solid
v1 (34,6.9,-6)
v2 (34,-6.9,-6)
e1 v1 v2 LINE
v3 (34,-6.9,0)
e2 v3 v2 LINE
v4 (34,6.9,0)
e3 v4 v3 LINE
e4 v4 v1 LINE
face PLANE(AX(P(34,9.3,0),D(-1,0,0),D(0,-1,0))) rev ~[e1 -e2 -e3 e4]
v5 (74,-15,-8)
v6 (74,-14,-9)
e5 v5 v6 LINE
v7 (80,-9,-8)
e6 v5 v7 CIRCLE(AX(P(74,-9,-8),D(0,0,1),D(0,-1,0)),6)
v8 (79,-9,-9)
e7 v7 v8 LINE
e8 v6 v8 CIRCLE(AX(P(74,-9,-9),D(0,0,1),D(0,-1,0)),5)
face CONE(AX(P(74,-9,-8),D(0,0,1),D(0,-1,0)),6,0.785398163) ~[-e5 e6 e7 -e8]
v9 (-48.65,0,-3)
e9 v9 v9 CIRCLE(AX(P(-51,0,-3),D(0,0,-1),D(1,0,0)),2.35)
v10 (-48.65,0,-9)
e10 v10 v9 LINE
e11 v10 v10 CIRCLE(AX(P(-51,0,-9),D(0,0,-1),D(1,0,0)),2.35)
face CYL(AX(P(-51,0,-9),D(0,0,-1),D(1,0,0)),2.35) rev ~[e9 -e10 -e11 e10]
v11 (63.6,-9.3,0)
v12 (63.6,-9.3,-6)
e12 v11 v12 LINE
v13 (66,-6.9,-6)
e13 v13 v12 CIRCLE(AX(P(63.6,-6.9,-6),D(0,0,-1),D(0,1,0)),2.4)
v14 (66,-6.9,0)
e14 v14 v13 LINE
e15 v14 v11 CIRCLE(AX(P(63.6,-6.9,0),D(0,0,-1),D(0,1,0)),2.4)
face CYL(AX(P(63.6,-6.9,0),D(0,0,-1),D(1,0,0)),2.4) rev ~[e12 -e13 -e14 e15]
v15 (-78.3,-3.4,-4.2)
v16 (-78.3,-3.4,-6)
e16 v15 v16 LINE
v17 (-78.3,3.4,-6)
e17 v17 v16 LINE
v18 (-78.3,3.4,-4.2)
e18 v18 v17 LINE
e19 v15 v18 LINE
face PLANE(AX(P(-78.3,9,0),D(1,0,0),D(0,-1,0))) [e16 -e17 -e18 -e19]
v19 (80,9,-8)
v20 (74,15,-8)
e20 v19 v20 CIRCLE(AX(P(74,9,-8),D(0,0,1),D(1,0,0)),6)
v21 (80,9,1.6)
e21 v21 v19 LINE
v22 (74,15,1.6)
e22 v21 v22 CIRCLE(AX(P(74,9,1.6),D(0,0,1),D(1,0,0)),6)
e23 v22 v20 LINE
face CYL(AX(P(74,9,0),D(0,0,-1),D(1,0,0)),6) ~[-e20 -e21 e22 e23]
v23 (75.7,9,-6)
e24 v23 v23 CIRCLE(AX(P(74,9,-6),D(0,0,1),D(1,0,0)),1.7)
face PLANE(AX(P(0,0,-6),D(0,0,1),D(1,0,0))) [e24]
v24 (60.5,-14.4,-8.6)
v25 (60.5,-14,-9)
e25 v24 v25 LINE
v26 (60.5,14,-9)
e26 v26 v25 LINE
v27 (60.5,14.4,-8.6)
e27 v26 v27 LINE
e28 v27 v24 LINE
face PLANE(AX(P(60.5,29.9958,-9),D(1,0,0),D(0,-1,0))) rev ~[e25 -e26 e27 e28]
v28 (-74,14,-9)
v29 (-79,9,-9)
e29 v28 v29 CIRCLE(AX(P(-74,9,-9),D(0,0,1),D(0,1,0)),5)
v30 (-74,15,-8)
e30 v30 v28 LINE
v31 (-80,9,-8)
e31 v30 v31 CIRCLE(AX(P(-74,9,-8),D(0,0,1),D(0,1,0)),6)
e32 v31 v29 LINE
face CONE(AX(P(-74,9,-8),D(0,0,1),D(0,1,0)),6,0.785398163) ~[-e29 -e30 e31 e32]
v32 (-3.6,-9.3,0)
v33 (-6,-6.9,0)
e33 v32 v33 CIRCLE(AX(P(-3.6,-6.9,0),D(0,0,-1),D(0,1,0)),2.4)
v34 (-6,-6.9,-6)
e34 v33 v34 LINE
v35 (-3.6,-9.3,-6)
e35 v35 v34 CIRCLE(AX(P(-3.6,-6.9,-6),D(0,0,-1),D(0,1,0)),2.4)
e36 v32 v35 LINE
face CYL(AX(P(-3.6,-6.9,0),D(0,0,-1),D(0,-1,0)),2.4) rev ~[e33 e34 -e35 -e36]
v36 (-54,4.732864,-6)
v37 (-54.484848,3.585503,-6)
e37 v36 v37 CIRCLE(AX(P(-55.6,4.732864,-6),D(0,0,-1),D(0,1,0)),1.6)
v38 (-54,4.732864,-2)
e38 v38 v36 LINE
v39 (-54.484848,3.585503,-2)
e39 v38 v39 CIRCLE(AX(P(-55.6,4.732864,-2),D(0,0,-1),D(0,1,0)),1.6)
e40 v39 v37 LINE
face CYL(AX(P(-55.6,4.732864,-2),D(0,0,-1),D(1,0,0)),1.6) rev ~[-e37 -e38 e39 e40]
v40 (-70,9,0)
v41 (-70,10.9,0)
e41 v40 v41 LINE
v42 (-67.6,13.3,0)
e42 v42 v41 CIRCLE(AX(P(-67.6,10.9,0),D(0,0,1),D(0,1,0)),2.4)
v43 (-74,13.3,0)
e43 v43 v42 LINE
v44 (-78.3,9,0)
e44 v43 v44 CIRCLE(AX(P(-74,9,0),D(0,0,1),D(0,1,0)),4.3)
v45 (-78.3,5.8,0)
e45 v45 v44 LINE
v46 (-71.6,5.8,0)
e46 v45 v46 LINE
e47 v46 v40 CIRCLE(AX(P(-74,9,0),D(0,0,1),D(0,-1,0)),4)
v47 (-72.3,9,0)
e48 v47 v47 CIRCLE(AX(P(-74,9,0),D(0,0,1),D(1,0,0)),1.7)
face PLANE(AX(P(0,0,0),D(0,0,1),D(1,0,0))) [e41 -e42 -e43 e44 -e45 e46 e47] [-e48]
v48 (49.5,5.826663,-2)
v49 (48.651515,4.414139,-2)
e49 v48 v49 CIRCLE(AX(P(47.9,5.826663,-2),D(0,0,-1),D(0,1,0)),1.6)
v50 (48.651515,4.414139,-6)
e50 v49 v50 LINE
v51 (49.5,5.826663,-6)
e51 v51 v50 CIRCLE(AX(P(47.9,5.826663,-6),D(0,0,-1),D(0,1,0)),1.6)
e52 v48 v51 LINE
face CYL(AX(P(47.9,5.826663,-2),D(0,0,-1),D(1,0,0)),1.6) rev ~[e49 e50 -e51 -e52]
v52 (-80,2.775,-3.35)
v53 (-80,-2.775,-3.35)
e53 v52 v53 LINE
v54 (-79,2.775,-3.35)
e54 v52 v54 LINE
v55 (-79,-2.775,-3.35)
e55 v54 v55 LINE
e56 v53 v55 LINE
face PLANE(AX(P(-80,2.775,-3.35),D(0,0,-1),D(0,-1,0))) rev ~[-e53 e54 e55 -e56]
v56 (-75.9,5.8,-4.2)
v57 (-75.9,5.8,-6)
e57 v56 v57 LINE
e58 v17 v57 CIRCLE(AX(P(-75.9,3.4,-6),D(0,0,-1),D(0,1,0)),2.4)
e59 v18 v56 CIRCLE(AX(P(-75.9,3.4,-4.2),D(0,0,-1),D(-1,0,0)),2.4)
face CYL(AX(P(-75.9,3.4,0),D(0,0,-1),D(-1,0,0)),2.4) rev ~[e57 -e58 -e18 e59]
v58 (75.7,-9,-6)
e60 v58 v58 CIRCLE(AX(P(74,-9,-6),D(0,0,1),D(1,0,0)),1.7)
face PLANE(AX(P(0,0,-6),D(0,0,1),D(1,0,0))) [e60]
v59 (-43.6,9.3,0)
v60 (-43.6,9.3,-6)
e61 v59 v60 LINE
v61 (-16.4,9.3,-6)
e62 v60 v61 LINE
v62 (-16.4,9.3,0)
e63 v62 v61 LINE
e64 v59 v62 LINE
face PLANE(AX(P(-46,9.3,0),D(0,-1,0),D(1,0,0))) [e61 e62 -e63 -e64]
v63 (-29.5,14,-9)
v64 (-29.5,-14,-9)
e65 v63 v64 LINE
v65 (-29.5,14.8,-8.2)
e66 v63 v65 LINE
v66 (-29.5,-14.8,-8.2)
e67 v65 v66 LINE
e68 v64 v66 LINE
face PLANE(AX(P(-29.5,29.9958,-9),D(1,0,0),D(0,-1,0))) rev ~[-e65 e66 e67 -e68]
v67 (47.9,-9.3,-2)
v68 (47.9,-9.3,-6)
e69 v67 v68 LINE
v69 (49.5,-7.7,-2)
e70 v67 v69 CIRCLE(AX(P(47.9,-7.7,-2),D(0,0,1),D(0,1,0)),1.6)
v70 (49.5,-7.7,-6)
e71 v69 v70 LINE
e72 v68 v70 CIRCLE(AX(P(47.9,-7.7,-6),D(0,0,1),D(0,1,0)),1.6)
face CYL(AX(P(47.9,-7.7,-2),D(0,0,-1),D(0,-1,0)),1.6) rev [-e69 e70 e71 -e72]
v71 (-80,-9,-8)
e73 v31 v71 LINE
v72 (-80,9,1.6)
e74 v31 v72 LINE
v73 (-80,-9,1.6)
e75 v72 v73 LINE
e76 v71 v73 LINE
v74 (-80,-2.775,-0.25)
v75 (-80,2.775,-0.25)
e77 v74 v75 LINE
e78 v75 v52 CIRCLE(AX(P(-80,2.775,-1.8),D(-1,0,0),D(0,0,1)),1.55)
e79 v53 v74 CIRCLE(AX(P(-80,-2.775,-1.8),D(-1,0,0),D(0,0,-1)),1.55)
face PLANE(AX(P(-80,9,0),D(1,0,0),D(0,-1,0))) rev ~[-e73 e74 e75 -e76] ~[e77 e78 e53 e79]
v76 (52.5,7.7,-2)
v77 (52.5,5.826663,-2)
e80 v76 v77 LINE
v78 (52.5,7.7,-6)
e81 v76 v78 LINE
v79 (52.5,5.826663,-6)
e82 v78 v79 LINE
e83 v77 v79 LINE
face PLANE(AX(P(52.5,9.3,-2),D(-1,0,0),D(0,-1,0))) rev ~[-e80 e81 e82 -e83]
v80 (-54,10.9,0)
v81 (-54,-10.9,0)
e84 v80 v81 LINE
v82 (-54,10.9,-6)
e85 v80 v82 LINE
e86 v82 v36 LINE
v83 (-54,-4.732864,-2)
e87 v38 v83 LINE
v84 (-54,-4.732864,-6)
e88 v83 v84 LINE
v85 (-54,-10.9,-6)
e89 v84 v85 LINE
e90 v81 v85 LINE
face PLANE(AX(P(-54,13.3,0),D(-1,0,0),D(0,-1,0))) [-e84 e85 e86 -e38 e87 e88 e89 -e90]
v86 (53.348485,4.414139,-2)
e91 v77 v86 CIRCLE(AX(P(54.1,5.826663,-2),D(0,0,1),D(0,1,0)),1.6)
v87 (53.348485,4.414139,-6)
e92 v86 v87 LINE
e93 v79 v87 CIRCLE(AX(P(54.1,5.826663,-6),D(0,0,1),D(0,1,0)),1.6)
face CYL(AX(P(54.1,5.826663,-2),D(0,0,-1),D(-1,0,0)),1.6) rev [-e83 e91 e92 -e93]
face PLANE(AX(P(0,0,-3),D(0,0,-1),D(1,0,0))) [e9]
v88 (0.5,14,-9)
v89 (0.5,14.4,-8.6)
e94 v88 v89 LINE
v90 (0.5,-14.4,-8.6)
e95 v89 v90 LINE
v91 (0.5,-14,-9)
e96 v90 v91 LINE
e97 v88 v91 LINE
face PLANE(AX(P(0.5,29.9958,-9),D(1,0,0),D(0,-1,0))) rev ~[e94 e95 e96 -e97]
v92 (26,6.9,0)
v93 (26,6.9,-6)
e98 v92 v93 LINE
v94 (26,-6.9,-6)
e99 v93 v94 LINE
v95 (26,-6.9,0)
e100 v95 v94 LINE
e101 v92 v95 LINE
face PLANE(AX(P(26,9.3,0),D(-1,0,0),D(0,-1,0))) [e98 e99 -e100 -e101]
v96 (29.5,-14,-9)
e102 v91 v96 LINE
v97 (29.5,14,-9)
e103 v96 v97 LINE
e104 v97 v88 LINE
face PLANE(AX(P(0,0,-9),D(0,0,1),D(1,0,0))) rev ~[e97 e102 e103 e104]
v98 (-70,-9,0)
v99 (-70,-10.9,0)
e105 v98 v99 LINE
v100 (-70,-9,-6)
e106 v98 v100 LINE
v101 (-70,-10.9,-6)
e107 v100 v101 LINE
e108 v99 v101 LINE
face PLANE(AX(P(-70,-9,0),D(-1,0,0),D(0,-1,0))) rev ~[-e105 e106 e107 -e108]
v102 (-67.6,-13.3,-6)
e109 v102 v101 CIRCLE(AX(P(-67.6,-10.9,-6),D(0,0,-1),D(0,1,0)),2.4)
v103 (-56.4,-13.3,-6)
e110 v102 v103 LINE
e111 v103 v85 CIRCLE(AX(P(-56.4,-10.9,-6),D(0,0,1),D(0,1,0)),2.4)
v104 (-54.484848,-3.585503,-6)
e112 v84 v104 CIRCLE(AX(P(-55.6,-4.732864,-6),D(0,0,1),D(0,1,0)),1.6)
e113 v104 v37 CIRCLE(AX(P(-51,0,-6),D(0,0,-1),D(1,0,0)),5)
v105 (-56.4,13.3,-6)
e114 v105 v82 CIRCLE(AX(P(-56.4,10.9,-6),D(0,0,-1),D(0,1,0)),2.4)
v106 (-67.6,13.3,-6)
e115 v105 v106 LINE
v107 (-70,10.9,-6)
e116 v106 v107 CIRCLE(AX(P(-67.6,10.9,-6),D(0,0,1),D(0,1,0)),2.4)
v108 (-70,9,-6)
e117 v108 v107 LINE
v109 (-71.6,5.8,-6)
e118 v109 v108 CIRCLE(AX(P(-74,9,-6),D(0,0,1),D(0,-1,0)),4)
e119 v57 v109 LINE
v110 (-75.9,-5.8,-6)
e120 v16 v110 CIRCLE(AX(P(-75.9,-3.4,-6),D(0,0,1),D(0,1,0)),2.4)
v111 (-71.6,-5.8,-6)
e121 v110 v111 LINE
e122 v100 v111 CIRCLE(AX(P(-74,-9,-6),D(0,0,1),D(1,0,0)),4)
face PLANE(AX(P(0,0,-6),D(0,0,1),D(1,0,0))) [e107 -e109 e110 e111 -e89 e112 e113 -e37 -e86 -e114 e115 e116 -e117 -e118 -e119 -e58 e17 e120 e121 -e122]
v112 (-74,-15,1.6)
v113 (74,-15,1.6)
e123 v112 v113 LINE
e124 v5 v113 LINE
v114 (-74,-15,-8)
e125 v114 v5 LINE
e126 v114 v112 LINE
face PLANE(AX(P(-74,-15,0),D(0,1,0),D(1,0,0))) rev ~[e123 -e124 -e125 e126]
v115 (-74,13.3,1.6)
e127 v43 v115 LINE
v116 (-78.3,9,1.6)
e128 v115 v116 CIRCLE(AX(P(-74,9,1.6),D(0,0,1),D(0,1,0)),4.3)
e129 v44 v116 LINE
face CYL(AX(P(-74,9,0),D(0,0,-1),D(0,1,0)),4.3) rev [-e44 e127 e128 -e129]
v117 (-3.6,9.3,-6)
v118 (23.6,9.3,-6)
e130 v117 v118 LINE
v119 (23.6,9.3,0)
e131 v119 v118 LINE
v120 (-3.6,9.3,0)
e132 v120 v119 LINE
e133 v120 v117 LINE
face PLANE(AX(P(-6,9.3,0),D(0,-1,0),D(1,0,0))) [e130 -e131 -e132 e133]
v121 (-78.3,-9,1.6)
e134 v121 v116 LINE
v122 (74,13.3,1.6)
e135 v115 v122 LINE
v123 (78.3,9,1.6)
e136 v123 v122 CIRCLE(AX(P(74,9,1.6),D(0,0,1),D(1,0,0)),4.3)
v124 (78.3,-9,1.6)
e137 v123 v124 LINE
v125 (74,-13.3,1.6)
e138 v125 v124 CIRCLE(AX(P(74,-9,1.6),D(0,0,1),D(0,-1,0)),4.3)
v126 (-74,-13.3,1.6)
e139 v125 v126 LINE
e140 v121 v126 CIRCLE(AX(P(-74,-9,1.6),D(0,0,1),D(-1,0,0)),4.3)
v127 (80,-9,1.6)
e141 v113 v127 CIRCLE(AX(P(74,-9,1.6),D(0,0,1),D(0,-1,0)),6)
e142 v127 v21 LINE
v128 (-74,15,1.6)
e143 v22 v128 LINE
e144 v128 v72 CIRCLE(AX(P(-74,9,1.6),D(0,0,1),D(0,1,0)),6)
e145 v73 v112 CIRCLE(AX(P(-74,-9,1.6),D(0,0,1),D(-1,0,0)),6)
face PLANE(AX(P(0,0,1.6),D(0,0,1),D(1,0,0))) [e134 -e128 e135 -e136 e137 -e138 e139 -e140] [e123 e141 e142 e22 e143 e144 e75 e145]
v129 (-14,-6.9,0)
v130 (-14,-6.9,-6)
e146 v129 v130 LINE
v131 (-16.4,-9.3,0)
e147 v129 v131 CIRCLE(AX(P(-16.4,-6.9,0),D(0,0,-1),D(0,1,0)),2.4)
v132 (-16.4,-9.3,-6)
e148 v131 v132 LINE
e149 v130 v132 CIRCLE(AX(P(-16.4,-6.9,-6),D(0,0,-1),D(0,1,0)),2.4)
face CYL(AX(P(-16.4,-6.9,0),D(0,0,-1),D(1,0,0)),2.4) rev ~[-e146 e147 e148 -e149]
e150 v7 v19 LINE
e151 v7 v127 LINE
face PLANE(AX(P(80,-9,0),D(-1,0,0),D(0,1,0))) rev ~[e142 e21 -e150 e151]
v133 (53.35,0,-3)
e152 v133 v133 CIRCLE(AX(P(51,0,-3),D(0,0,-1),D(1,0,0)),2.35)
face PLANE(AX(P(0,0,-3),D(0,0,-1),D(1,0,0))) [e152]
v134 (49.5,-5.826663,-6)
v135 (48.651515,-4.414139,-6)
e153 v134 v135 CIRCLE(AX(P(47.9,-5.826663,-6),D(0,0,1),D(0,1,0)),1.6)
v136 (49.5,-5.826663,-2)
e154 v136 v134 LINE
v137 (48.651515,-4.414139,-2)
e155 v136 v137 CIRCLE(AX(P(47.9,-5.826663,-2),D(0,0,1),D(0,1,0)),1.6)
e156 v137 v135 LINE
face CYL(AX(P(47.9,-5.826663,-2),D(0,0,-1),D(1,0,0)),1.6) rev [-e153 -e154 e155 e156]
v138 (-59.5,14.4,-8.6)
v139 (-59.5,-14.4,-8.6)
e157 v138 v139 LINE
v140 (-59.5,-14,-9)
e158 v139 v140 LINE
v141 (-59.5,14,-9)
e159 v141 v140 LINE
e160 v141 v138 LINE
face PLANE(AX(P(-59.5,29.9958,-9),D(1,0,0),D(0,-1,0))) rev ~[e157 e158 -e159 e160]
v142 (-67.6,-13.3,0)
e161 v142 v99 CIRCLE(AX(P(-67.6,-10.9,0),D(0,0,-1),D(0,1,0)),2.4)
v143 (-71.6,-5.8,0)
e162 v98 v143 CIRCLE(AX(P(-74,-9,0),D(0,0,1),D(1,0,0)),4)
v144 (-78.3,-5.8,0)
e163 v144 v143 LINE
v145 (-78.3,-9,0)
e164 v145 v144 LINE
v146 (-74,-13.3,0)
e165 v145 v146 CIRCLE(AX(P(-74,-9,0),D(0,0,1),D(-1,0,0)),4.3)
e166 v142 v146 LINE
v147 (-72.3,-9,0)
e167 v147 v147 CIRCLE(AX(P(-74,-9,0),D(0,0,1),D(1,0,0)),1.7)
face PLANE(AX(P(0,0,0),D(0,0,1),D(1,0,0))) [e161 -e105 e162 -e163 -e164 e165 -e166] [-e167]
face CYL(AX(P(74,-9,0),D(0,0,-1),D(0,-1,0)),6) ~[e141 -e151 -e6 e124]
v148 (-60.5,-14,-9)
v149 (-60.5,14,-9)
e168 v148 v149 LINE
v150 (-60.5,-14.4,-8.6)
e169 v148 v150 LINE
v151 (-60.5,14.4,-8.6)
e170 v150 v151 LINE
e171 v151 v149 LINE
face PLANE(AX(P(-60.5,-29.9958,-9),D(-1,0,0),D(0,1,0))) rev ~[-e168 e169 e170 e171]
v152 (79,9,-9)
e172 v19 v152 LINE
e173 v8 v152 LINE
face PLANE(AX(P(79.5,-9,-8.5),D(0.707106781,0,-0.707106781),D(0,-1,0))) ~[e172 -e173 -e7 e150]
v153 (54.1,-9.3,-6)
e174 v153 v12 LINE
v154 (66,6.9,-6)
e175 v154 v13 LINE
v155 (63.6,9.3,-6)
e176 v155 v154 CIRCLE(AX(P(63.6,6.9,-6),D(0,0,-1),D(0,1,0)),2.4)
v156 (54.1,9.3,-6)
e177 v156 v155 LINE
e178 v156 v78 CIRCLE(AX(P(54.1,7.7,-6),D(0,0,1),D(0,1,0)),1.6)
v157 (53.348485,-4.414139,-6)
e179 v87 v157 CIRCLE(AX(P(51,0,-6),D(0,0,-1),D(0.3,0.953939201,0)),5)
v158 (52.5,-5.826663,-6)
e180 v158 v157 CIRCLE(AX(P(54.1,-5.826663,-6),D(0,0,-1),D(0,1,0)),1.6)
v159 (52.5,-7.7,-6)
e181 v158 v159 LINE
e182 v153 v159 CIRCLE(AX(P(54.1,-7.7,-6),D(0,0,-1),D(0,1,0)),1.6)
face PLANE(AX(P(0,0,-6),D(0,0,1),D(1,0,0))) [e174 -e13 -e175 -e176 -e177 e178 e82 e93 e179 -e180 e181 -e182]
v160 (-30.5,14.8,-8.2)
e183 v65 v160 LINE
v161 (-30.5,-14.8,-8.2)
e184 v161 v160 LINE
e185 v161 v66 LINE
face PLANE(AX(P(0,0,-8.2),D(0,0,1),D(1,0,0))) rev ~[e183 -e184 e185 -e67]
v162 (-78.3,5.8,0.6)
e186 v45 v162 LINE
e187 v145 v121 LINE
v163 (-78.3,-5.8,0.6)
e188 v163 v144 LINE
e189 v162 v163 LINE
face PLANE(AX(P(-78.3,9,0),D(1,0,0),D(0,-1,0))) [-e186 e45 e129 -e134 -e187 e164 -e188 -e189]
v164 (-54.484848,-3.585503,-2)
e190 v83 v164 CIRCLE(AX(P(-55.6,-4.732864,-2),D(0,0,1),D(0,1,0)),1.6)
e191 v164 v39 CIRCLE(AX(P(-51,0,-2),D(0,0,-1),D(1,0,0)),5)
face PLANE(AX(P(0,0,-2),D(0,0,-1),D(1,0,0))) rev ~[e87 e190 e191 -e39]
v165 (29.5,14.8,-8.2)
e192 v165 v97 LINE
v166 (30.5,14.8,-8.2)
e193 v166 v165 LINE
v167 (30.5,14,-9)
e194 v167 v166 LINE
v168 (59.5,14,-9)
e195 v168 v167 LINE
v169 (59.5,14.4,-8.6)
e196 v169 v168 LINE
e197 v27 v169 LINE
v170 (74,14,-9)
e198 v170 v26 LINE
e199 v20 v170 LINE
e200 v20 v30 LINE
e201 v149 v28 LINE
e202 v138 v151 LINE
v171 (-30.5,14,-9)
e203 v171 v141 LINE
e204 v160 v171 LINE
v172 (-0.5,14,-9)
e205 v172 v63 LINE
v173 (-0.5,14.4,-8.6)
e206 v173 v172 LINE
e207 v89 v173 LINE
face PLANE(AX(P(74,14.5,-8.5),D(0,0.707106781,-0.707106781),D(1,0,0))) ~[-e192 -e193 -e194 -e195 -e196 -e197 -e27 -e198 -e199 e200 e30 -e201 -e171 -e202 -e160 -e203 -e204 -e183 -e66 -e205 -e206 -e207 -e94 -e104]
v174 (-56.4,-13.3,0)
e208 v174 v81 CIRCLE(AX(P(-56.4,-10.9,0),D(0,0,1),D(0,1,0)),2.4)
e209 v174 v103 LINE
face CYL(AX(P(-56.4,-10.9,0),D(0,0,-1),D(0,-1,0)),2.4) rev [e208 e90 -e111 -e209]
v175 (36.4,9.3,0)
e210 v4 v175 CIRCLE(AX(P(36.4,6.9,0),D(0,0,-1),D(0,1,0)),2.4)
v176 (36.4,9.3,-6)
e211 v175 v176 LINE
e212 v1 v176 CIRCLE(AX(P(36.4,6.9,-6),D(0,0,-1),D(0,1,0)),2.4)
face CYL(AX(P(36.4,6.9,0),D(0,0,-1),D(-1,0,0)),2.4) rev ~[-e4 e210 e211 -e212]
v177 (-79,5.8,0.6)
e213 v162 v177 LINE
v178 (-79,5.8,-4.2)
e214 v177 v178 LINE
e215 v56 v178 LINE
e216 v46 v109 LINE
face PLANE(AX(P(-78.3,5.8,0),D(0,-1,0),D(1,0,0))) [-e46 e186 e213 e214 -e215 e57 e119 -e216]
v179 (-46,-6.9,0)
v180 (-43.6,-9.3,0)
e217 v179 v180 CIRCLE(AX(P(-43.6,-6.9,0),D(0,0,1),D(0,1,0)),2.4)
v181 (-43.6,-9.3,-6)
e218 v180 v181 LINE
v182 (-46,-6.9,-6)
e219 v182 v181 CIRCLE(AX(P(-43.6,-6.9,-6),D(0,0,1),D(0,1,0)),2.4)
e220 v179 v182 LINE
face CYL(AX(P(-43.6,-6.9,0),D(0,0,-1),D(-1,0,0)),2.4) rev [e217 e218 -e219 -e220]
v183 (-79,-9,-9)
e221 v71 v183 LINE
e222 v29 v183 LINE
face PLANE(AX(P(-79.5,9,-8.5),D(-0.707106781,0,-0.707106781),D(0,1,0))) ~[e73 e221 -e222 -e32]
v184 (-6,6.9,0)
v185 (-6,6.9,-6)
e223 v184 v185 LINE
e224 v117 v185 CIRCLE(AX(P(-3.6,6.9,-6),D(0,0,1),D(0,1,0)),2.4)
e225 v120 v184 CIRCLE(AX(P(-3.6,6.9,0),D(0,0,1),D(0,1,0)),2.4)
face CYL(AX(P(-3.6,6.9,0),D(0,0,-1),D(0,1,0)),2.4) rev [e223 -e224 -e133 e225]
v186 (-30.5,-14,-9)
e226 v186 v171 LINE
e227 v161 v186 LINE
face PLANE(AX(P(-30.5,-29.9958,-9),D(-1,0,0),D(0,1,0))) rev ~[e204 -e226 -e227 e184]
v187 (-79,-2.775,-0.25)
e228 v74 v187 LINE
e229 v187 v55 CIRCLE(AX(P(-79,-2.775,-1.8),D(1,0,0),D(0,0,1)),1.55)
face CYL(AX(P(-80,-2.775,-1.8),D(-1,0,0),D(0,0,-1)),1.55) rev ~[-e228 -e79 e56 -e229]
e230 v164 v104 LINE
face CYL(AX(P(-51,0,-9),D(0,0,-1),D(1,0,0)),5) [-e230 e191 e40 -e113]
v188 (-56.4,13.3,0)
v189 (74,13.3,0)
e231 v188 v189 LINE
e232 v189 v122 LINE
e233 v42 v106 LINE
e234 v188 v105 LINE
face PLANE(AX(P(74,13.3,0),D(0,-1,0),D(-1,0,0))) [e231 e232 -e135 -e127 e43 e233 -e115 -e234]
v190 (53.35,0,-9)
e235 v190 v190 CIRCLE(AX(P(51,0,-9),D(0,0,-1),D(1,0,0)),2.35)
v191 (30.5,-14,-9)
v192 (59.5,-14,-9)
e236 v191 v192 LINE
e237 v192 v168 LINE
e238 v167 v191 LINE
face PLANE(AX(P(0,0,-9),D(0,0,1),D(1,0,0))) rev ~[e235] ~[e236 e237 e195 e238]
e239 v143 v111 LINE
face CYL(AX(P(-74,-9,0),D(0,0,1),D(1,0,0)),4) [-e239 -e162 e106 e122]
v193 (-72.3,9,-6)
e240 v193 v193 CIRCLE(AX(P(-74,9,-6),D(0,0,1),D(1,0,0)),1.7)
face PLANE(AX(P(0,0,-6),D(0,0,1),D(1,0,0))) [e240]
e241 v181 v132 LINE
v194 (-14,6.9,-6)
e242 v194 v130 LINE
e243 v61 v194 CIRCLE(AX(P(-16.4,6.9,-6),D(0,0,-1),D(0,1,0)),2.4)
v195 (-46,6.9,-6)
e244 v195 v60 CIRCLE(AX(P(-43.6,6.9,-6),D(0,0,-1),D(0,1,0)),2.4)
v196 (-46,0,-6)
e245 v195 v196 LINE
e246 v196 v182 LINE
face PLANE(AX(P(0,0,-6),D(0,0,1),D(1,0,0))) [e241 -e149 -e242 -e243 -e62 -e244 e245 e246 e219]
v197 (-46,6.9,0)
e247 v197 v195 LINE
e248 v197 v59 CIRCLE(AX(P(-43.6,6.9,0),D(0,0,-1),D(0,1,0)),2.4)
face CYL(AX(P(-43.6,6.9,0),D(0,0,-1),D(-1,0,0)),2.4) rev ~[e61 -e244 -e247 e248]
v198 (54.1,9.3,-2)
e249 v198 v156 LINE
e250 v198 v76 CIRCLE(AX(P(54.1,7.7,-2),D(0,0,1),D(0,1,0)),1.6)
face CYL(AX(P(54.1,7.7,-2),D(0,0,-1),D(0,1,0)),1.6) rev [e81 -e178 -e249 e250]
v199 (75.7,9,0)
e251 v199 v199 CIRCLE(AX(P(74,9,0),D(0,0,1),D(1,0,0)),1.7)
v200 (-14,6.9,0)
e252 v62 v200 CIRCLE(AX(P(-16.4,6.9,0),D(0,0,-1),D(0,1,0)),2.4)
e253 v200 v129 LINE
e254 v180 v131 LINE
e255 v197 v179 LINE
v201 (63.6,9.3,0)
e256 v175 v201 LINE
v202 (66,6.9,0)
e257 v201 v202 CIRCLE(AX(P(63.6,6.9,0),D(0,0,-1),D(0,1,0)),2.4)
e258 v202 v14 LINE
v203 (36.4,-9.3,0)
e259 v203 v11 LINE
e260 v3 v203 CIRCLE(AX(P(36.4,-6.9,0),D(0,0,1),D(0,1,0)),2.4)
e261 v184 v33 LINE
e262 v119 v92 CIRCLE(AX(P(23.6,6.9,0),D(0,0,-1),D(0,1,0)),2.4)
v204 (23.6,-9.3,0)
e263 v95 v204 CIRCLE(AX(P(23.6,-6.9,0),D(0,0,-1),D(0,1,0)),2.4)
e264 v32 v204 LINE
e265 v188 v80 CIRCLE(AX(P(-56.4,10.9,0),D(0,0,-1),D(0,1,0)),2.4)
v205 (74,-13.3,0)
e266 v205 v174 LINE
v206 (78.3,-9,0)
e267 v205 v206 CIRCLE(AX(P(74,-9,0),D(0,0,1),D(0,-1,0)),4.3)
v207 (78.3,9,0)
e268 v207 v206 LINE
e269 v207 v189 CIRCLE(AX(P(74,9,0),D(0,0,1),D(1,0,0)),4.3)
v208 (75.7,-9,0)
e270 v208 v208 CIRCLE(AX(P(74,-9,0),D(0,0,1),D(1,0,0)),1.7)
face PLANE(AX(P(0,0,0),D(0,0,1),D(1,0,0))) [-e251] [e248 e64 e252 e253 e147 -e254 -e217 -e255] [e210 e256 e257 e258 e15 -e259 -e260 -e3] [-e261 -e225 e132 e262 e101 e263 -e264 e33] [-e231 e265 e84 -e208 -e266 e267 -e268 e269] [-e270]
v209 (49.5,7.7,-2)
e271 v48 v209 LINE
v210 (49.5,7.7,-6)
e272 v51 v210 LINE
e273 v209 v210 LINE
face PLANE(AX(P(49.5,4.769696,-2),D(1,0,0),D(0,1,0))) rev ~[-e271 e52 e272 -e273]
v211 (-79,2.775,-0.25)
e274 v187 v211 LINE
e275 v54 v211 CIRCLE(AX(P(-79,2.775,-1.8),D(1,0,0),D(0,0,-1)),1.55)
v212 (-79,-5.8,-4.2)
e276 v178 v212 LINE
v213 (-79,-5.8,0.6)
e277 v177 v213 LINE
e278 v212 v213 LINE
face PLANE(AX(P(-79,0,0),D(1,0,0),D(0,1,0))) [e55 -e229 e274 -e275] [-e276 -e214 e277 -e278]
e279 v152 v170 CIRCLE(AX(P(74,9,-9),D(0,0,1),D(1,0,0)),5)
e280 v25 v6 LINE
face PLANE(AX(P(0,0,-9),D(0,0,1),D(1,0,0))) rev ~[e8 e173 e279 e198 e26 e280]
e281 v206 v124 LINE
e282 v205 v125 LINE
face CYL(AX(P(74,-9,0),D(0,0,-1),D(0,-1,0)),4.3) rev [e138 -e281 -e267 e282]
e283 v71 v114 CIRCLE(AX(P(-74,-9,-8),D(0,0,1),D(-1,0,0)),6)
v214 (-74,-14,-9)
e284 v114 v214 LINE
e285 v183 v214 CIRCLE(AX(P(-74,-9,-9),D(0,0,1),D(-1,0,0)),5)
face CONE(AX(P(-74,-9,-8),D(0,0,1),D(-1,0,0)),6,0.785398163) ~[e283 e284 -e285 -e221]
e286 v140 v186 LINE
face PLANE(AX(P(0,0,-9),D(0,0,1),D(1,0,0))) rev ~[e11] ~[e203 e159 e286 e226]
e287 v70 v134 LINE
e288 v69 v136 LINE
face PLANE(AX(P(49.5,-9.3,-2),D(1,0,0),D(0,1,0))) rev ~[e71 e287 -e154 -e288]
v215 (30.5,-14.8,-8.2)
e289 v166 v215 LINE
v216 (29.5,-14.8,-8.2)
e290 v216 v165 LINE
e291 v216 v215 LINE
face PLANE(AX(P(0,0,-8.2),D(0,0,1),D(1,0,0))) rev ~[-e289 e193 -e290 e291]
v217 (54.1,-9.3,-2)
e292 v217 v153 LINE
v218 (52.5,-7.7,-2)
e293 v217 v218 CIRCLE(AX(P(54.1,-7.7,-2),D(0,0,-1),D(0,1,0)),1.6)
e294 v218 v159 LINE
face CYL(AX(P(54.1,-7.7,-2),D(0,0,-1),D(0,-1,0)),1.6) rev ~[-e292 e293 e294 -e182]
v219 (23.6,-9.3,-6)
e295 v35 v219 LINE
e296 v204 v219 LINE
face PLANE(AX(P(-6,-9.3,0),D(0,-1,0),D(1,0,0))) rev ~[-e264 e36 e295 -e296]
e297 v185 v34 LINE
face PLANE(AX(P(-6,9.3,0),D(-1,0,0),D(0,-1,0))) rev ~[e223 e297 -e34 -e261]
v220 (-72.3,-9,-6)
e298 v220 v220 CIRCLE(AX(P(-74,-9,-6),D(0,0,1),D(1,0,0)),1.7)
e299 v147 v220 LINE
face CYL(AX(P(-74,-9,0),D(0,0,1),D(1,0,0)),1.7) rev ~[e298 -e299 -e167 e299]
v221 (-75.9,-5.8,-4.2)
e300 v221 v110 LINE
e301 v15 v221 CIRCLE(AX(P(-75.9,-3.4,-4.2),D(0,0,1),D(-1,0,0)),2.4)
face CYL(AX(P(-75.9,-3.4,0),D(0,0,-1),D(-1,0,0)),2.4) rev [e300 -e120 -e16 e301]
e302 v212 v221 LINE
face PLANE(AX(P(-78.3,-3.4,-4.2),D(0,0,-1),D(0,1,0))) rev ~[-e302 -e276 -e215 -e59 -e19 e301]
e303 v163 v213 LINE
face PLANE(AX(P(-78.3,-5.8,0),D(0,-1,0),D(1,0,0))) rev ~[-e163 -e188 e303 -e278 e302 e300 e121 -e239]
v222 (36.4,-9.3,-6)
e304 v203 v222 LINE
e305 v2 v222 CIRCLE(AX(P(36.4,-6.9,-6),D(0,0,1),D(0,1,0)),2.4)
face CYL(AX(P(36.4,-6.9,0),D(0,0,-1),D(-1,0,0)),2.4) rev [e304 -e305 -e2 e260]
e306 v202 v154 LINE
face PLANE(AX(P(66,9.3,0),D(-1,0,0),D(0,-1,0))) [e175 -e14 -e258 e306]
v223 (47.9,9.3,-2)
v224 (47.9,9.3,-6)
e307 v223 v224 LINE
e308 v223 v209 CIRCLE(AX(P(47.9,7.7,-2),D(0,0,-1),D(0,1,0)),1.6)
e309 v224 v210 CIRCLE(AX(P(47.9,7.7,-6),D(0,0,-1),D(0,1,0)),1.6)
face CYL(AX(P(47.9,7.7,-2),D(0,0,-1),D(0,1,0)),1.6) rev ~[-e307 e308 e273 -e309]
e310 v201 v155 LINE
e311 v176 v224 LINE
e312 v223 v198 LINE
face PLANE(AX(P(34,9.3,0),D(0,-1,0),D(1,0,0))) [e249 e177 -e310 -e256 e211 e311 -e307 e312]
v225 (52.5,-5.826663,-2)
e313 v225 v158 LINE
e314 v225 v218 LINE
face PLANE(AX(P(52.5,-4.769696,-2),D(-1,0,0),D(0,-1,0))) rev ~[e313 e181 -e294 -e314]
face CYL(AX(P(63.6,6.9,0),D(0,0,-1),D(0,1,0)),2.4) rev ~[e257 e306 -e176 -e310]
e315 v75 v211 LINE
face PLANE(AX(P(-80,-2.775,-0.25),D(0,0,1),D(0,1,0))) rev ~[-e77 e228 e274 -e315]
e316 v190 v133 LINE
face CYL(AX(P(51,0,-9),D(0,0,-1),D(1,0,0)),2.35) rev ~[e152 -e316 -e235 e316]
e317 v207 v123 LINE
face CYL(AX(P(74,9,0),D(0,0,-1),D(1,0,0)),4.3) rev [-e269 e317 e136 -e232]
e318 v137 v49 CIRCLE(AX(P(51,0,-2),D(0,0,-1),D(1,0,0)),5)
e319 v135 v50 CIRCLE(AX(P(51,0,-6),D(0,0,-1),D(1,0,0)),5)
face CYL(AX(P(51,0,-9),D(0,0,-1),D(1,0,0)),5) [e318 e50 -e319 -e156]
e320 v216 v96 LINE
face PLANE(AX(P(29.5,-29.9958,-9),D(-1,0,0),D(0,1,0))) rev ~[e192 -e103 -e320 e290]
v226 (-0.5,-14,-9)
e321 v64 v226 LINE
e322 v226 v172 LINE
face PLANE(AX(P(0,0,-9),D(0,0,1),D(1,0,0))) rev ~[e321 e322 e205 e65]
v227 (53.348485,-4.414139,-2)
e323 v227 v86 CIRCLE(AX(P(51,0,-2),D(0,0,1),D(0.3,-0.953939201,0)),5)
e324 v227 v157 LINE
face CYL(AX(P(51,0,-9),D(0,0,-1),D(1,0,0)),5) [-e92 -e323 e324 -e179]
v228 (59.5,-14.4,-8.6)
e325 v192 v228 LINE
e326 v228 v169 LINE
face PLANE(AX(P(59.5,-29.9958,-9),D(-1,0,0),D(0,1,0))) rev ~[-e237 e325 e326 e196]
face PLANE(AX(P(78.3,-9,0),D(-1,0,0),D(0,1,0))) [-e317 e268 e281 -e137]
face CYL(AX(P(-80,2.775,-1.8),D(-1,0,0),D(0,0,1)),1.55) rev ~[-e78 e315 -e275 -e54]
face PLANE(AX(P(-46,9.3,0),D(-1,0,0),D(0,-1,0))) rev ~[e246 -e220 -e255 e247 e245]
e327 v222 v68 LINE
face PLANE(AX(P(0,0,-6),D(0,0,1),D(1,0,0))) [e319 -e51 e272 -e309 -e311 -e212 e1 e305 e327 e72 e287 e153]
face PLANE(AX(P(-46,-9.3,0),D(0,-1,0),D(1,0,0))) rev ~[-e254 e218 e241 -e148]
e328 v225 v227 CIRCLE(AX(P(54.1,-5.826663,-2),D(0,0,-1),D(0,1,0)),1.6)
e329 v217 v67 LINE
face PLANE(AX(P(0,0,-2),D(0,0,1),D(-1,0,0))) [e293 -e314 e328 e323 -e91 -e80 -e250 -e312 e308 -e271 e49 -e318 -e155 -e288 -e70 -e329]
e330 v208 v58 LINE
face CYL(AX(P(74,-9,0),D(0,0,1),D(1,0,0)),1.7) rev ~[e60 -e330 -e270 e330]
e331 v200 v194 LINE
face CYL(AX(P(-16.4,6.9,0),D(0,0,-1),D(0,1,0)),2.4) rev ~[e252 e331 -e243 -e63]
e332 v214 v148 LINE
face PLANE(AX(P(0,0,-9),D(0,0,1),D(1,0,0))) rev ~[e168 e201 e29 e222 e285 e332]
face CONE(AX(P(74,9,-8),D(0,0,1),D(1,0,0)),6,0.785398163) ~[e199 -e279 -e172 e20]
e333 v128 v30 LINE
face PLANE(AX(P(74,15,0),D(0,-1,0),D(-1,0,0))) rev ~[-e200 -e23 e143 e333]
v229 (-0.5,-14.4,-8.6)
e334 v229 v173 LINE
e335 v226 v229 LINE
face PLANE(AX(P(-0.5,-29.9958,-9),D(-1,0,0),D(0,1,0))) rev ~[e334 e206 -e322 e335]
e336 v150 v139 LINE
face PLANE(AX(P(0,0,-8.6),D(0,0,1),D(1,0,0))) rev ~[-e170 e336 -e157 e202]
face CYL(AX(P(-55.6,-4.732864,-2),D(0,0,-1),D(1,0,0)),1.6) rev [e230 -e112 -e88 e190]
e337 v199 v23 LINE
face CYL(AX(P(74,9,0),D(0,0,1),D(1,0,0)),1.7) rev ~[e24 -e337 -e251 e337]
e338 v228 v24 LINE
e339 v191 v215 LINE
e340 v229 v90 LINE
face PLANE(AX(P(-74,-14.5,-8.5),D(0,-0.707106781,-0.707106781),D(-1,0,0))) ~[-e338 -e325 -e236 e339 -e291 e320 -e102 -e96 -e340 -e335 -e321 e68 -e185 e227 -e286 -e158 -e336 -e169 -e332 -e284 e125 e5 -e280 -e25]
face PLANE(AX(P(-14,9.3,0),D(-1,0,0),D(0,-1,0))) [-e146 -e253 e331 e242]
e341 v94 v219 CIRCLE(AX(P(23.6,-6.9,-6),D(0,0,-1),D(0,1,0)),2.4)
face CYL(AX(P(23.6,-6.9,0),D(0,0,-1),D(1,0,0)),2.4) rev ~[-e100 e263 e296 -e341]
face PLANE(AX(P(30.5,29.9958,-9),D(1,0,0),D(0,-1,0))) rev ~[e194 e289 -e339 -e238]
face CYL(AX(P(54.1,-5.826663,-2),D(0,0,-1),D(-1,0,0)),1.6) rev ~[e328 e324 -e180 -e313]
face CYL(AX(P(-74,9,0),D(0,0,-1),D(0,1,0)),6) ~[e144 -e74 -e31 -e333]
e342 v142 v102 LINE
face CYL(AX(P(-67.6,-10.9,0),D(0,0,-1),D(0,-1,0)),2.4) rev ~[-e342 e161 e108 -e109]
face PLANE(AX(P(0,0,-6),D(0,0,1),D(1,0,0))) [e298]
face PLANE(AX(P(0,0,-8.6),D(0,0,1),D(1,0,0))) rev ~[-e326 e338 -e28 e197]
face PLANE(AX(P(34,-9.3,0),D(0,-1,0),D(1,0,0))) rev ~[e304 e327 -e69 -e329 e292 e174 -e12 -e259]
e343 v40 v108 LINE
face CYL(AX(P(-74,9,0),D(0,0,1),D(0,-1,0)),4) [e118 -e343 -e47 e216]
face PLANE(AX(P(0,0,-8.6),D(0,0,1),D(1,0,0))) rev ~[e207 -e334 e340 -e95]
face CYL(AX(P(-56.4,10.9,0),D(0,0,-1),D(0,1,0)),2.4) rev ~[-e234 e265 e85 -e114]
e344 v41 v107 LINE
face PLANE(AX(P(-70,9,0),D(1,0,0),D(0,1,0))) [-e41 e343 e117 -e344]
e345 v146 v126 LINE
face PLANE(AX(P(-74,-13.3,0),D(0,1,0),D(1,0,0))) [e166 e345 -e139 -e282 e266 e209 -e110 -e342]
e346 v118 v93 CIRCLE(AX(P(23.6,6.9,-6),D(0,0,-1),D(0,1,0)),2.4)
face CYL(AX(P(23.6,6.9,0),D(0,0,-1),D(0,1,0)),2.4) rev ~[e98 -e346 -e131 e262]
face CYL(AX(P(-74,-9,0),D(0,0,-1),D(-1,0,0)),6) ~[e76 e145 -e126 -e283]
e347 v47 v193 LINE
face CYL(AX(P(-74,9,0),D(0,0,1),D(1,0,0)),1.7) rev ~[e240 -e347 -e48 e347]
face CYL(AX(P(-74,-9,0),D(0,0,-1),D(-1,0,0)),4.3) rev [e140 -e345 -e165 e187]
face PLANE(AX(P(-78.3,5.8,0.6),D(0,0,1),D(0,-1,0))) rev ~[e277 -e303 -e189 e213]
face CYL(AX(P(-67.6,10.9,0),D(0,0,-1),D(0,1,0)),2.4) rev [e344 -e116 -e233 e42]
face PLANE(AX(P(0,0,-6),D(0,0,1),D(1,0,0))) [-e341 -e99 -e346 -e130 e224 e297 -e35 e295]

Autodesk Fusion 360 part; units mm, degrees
sketch "PLANNING" plane through (0, 0, 0) normal (0, 0, 1) x (1, 0, 0)
  line L0 (-74, -15) -> (74, -15)
  line L1 (80, -9) -> (80, 9)
  line L2 (74, 15) -> (-74, 15)
  line L3 (-80, 9) -> (-80, -9)
  line L4 (-80, -15) -> (80, 15) construction
  line L5 (80, -15) -> (-80, 15) construction
  arc A0 (-74, 15) -> (-80, 9) centre (-74, 9) ccw
  arc A1 (-80, -9) -> (-74, -15) centre (-74, -9) ccw
  arc A2 (74, -15) -> (80, -9) centre (74, -9) ccw
  arc A3 (80, 9) -> (74, 15) centre (74, 9) ccw
  line L6 (-78, 9) -> (-78, -9)
  arc A4 (-78, -9) -> (-74, -13) centre (-74, -9) ccw
  line L7 (-74, -13) -> (74, -13)
  arc A5 (74, -13) -> (78, -9) centre (74, -9) ccw
  line L8 (78, -9) -> (78, 9)
  arc A6 (78, 9) -> (74, 13) centre (74, 9) ccw
  line L9 (74, 13) -> (-74, 13)
  arc A7 (-74, 13) -> (-78, 9) centre (-74, 9) ccw
  line L10 (0, 0) -> (-50, 0) construction
  line L11 (-49.2929, 2.8284) -> (-52.8284, -0.7071)
  arc A8 (-52.8284, -0.7071) -> (-50.7071, -2.8284) centre (-51.7678, -1.7678) ccw
  line L12 (-50.7071, -2.8284) -> (-47.1716, 0.7071)
  arc A9 (-47.1716, 0.7071) -> (-49.2929, 2.8284) centre (-48.2322, 1.7678) ccw
  line L13 (-48.2322, 1.7678) -> (-51.7678, -1.7678) construction
  line L14 (-10.7071, -2.8284) -> (-7.1716, 0.7071)
  arc A10 (-7.1716, 0.7071) -> (-9.2929, 2.8284) centre (-8.2322, 1.7678) ccw
  arc A11 (-12.8284, -0.7071) -> (-10.7071, -2.8284) centre (-11.7678, -1.7678) ccw
  line L15 (-9.2929, 2.8284) -> (-12.8284, -0.7071)
  line L16 (29.2929, -2.8284) -> (32.8284, 0.7071)
  arc A12 (32.8284, 0.7071) -> (30.7071, 2.8284) centre (31.7678, 1.7678) ccw
  arc A13 (27.1716, -0.7071) -> (29.2929, -2.8284) centre (28.2322, -1.7678) ccw
  line L17 (30.7071, 2.8284) -> (27.1716, -0.7071)
  line L18 (69.2929, -2.8284) -> (72.8284, 0.7071)
  arc A14 (72.8284, 0.7071) -> (70.7071, 2.8284) centre (71.7678, 1.7678) ccw
  arc A15 (67.1716, -0.7071) -> (69.2929, -2.8284) centre (68.2322, -1.7678) ccw
  line L19 (70.7071, 2.8284) -> (67.1716, -0.7071)
  line L20 (-78, 0) -> (-68, 0) construction
  circle A16 centre (-74, 9) radius 1.35
  circle A17 centre (-74, -9) radius 1.35
  line L21 (0, 0) -> (0, -13) construction
  circle A18 centre (74, 9) radius 1.35
  circle A19 centre (74, -9) radius 1.35
  point P0 (-50, 0)
  point P1 (-52.8284, -2.8284)
  point P2 (-47.1716, 2.8284)
  dimension "d1" = 30
  dimension "d2" = 160
  dimension "d3" = 6
  dimension "d4" = -2
  dimension "d5" = 45
  dimension "d7" = 8
  dimension "d8" = 3
  dimension "d11" = 40
  dimension "d12" = 0
  dimension "d13" = 50
  dimension "d14" = 10
  dimension "d15" = 2.7
sketch "PCB_REF" plane through (0, 0, 0) normal (0, 0, 1) x (1, 0, 0)
  line L0 (-78, 9) -> (-78, -9)
  arc A0 (-78, -9) -> (-74, -13) centre (-74, -9) ccw
  line L1 (-74, -13) -> (74, -13)
  arc A1 (74, -13) -> (78, -9) centre (74, -9) ccw
  line L2 (78, -9) -> (78, 9)
  arc A2 (78, 9) -> (74, 13) centre (74, 9) ccw
  arc A3 (-74, 13) -> (-78, 9) centre (-74, 9) ccw
  line L3 (74, 13) -> (-74, 13)
  circle A4 centre (-74, 9) radius 1.35
  circle A5 centre (-74, -9) radius 1.35
  line L4 (-49.2929, 2.8284) -> (-52.8284, -0.7071) construction
  arc A6 (-52.8284, -0.7071) -> (-50.7071, -2.8284) centre (-51.7678, -1.7678) ccw construction
  arc A7 (-47.1716, 0.7071) -> (-49.2929, 2.8284) centre (-48.2322, 1.7678) ccw construction
  line L5 (-50.7071, -2.8284) -> (-47.1716, 0.7071) construction
  circle A8 centre (74, 9) radius 1.35
  circle A9 centre (74, -9) radius 1.35
  line L6 (-48.2322, 1.7678) -> (-51.7678, -1.7678)
  line L7 (-51.0607, 1.0607) -> (-48.9393, -1.0607)
  line L8 (-11.0607, 1.0607) -> (-8.9393, -1.0607)
  line L9 (-8.2322, 1.7678) -> (-11.7678, -1.7678)
  line L10 (28.9393, 1.0607) -> (31.0607, -1.0607)
  line L11 (31.7678, 1.7678) -> (28.2322, -1.7678)
  line L12 (68.9393, 1.0607) -> (71.0607, -1.0607)
  line L13 (71.7678, 1.7678) -> (68.2322, -1.7678)
  line L14 (-78, 0) -> (-68, 0)
  dimension "d18" = 40
  dimension "d19" = 0
sketch "Sketch1" plane through (0, 0, 0) normal (0, 0, 1) x (1, 0, 0) in component "Base"
  line L0 (-80, 9) -> (-80, -9)
  arc A0 (-80, -9) -> (-74, -15) centre (-74, -9) ccw
  line L1 (-74, -15) -> (74, -15)
  arc A1 (74, -15) -> (80, -9) centre (74, -9) ccw
  line L2 (80, -9) -> (80, 9)
  arc A2 (80, 9) -> (74, 15) centre (74, 9) ccw
  arc A3 (-74, 15) -> (-80, 9) centre (-74, 9) ccw
  line L3 (74, 15) -> (-74, 15)
  line L4 (-78, 9) -> (-78, -9) construction
  arc A4 (-78, -9) -> (-74, -13) centre (-74, -9) ccw construction
  line L5 (-74, -13) -> (74, -13) construction
  arc A5 (74, -13) -> (78, -9) centre (74, -9) ccw construction
  line L6 (78, -9) -> (78, 9) construction
  arc A6 (78, 9) -> (74, 13) centre (74, 9) ccw construction
  arc A7 (-74, 13) -> (-78, 9) centre (-74, 9) ccw construction
  line L7 (74, 13) -> (-74, 13) construction
  line L8 (-78.3, 9) -> (-78.3, -9)
  arc A8 (-78.3, -9) -> (-74, -13.3) centre (-74, -9) ccw
  line L9 (-74, -13.3) -> (74, -13.3)
  arc A9 (74, -13.3) -> (78.3, -9) centre (74, -9) ccw
  line L10 (78.3, -9) -> (78.3, 9)
  arc A10 (78.3, 9) -> (74, 13.3) centre (74, 9) ccw
  line L11 (74, 13.3) -> (-74, 13.3)
  arc A11 (-74, 13.3) -> (-78.3, 9) centre (-74, 9) ccw
  circle A12 centre (-74, 9) radius 4 construction
  line L12 (-70, 9) -> (-70, 13.3)
  line L13 (-74, 5) -> (-78.3, 5)
  arc A13 (-74, 5) -> (-70, 9) centre (-74, 9) ccw
  line L14 (0, 0) -> (0, -13.3) construction
  line L15 (0, 0) -> (-78.3, 0) construction
  circle A14 centre (-74, 9) radius 1.7
  circle A15 centre (-74, -9) radius 1.7
  line L16 (-74, -5) -> (-78.3, -5)
  arc A16 (-70, -9) -> (-74, -5) centre (-74, -9) ccw
  line L17 (-70, -9) -> (-70, -13.3)
  line L18 (74, 5) -> (78.3, 5)
  arc A17 (70, 9) -> (74, 5) centre (74, 9) ccw
  line L19 (70, 9) -> (70, 13.3)
  circle A18 centre (74, 9) radius 1.7
  line L20 (70, -9) -> (70, -13.3)
  arc A19 (74, -5) -> (70, -9) centre (74, -9) ccw
  line L21 (74, -5) -> (78.3, -5)
  circle A20 centre (74, -9) radius 1.7
  line L22 (-78.3, 5.8) -> (-71.6, 5.8)
  line L23 (-78.3, -5.8) -> (-71.6, -5.8)
  dimension "d22" = 0.3
  dimension "d23" = 3.4
  dimension "d46" = 0.8
extrude "Extrude1" add sketch "Sketch1" along normal blind 1.6 contours L0 A0 L1 A1 L2 A2 A3 L3 in component "Base"
extrude "Extrude2" add sketch "Sketch1" against normal blind 6 contours L0 A0 L1 A1 L2 A2 A3 L3 | L8 L11 A11 L12 A13 L22 | L10 A10 L11 L18 A17 L19 | L8 A8 L9 A16 L17 L23 | L9 A9 L10 L20 A19 L21 in component "Base"
extrude "Extrude3" add sketch "Sketch1" against normal blind 3 from surface at -6 contours L0 A0 L1 A1 L2 A2 A3 L3 | L8 L11 A11 L12 A13 L22 | L8 L13 A13 L22 | L8 L9 L10 L11 L12 L13 A13 L16 A16 L17 L18 A17 L19 L20 A19 L21 | L8 L16 A16 L23 | L10 A10 L11 L18 A17 L19 | L8 A8 L9 A16 L17 L23 | L9 A9 L10 L20 A19 L21 | A14 | A15 | A18 | A20 in component "Base"
sketch "Sketch3" plane through (0, 0, 0) normal (0, 0, 1) x (1, 0, 0) in component "Base"
  line L0 (-74, 13.3) -> (74, 13.3)
  arc A0 (-74, 13.3) -> (-78.3, 9) centre (-74, 9) ccw
  line L1 (-78.3, -9) -> (-78.3, 9)
  arc A1 (-78.3, -9) -> (-74, -13.3) centre (-74, -9) ccw
  line L2 (74, -13.3) -> (-74, -13.3)
  arc A2 (74, -13.3) -> (78.3, -9) centre (74, -9) ccw
  line L3 (78.3, 9) -> (78.3, -9)
  arc A3 (78.3, 9) -> (74, 13.3) centre (74, 9) ccw
  line L4 (-54, 13.3) -> (-54, -13.3)
  line L5 (-46, 13.3) -> (-46, -13.3)
  line L6 (-6, 13.3) -> (-6, -13.3)
  line L7 (-14, 13.3) -> (-14, -13.3)
  line L8 (34, 13.3) -> (34, -13.3)
  line L9 (26, 13.3) -> (26, -13.3)
  line L10 (74, 13.3) -> (74, -13.3) construction
  line L11 (66, 13.3) -> (66, -13.3)
  line L12 (-46, 9.3) -> (66, 9.3)
  line L13 (0, 0) -> (-46, 0) construction
  line L14 (-46, -9.3) -> (66, -9.3)
  line L15 (70, 13.3) -> (70, 9)
  arc A4 (70, 9) -> (74, 5) centre (74, 9) ccw
  line L16 (74, 5) -> (78.3, 5)
  line L17 (78.3, -5) -> (74, -5)
  arc A5 (74, -5) -> (70, -9) centre (74, -9) ccw
  line L18 (70, -9) -> (70, -13.3)
  dimension "d31" = 46
  dimension "d32" = 54
  dimension "d35" = 40
  dimension "d36" = 0
  dimension "d37" = 4
extrude "Extrude4" add sketch "Sketch3" against normal up to surface (6 mm away) contours L0 L2 L4 L5 | L0 L5 L7 L12 | L0 L6 L7 L12 | L2 L5 L7 L14 | L0 L6 L9 L12 | L6 L7 L12 L14 | L2 L6 L7 L14 | L0 L8 L9 L12 | L2 L6 L9 L14 | L0 L8 L11 L12 | L8 L9 L12 L14 | L2 L8 L9 L14 | L0 L2 L3 L11 L15 A4 L16 L17 A5 L18 | L2 L8 L11 L14 in component "Base"
sketch "Sketch4" plane through (-80, 0, 0) normal (-1, 0, 0) x (0, -1, 0) in component "Base"
  line L0 (9, -9) -> (9, 1.6)
  line L1 (9, 1.6) -> (-9, 1.6)
  line L2 (-9, 1.6) -> (-9, -9)
  line L3 (-9, -9) -> (9, -9)
  line L4 (-2.775, -3.35) -> (2.775, -3.35)
  arc A0 (2.775, -3.35) -> (2.775, -0.25) centre (2.775, -1.8) ccw
  line L5 (2.775, -0.25) -> (-2.775, -0.25)
  arc A1 (-2.775, -0.25) -> (-2.775, -3.35) centre (-2.775, -1.8) ccw
  line L6 (-2.775, -1.8) -> (2.775, -1.8) construction
  line L7 (0, -1.8) -> (0, 1.6) construction
  point P0 (0, -1.8)
  point P1 (4.325, -1.8)
  dimension "d41" = 3.4
  dimension "d42" = 3.1
  dimension "d43" = 4.325
extrude "Extrude5" cut sketch "Sketch4" against normal up to surface (1.7 mm away) contours L4 A0 L5 A1 in component "Base"
chamfer "Chamfer2" distance 1 angle 45 1 faces at (-24.6667, 5, -9) in component "Base"
sketch "Sketch5" plane through (0, 0, -9) normal (0, 0, -1) x (1, 0, 0) in component "Base"
  arc A0 (-79, -9) -> (-74, -14) centre (-74, -9) ccw
  line L0 (-74, -14) -> (74, -14)
  arc A1 (74, -14) -> (79, -9) centre (74, -9) ccw
  line L1 (79, -9) -> (79, 9)
  arc A2 (79, 9) -> (74, 14) centre (74, 9) ccw
  line L2 (74, 14) -> (-74, 14)
  arc A3 (-74, 14) -> (-79, 9) centre (-74, 9) ccw
  line L3 (-79, 9) -> (-79, -9)
  line L4 (0, 0) -> (51, 0) construction
  circle A4 centre (51, 0) radius 2.35
  line L5 (0, 0) -> (0, -14) construction
  circle A5 centre (51, 0) radius 5
  circle A6 centre (-51, 0) radius 2.35
  circle A7 centre (-51, 0) radius 5
  dimension "d48" = 4.7
  dimension "d49" = 10
  dimension "d50" = 102
extrude "Extrude6" add sketch "Sketch5" against normal blind 7 contours A4 | A5 | A6 | A7 in component "Base"
extrude "Extrude7" cut sketch "Sketch5" against normal blind 6 contours A4 | A6 in component "Base"
sketch "Sketch6" plane through (0, 0, 0) normal (0, 0, 1) x (1, 0, 0) in component "Base"
  line L0 (0.5, -29.9958) -> (-0.5, -29.9958)
  line L1 (-0.5, -29.9958) -> (-0.5, 29.9958)
  line L2 (-0.5, 29.9958) -> (0.5, 29.9958)
  line L3 (0.5, 29.9958) -> (0.5, -29.9958)
  line L4 (0.5, -29.9958) -> (-0.5, 29.9958) construction
  line L5 (-0.5, -29.9958) -> (0.5, 29.9958) construction
  line L6 (-60.5, -29.9958) -> (-60.5, 29.9958)
  line L7 (-60.5, 29.9958) -> (-59.5, 29.9958)
  line L8 (-59.5, -29.9958) -> (-60.5, -29.9958)
  line L9 (-59.5, 29.9958) -> (-59.5, -29.9958)
  line L10 (-30.5, -29.9958) -> (-30.5, 29.9958)
  line L11 (-30.5, 29.9958) -> (-29.5, 29.9958)
  line L12 (-29.5, -29.9958) -> (-30.5, -29.9958)
  line L13 (-29.5, 29.9958) -> (-29.5, -29.9958)
  line L14 (29.5, -29.9958) -> (29.5, 29.9958)
  line L15 (29.5, 29.9958) -> (30.5, 29.9958)
  line L16 (30.5, -29.9958) -> (29.5, -29.9958)
  line L17 (30.5, 29.9958) -> (30.5, -29.9958)
  line L18 (59.5, -29.9958) -> (59.5, 29.9958)
  line L19 (59.5, 29.9958) -> (60.5, 29.9958)
  line L20 (60.5, -29.9958) -> (59.5, -29.9958)
  line L21 (60.5, 29.9958) -> (60.5, -29.9958)
  dimension "d56" = 1
  dimension "d57" = 60
  dimension "d60" = 30
  dimension "d61" = 0
extrude "Extrude8" cut sketch "Sketch6" along normal blind 0.4 from surface at -9 in component "Base"
extrude "Extrude9" cut sketch "Sketch6" along normal blind 0.8 from surface at -9 contours L10 L11 L12 L13 | L14 L15 L16 L17 in component "Base"
sketch "Sketch7" plane through (0, 0, -2) normal (0, 0, 1) x (-1, 0, 0) in component "Base"
  circle A0 centre (-51, 0) radius 5
  line L0 (-49.5, -9.3) -> (-52.5, -9.3)
  line L1 (-52.5, -9.3) -> (-52.5, 9.3)
  line L2 (-52.5, 9.3) -> (-49.5, 9.3)
  line L3 (-49.5, 9.3) -> (-49.5, -9.3)
  line L4 (-49.5, -9.3) -> (-52.5, 9.3) construction
  line L5 (-52.5, -9.3) -> (-49.5, 9.3) construction
  line L6 (-66, 9.3) -> (-34, 9.3) construction
  point P0 (-51, 0)
  dimension "d70" = 3
extrude "Extrude10" add sketch "Sketch7" against normal up to surface (4 mm away) contours A0 L1 L2 L3 | A0 L0 L1 L3 in component "Base"
fillet "Fillet2" radius 1.6 10 edges at (49.5, 9.3, -4) (49.5, -4.7697, -4) (52.5, 9.3, -4) (52.5, -4.7697, -4) (52.5, -9.3, -4) (52.5, 4.7697, -4) (49.5, -9.3, -4) (49.5, 4.7697, -4) (-54, 4, -4) (-54, -4, -4) in component "Base"
fillet "Fillet2" radius 2.4 18 edges at (66, -9.3, -3) (26, -9.3, -3) (-14, -9.3, -3) (-54, -13.3, -3) (66, 9.3, -3) (26, 9.3, -3) (-14, 9.3, -3) (-54, 13.3, -3) (-46, 9.3, -3) (-6, 9.3, -3) (34, 9.3, -3) (-46, -9.3, -3) (-6, -9.3, -3) (34, -9.3, -3) (-70, 13.3, -3) (-70, -13.3, -3) (-78.3, -5.8, -3) (-78.3, 5.8, -3) in component "Base"
sketch "Sketch8" plane through (0, 0, 0) normal (0, 0, 1) x (-1, 0, 0) in component "Base"
  line L0 (74, 13.3) -> (67.6, 13.3)
  arc A0 (70, 10.9) -> (67.6, 13.3) centre (67.6, 10.9) ccw
  line L1 (70, 10.9) -> (70, 9)
  arc A1 (70, 9) -> (71.6, 5.8) centre (74, 9) ccw
  line L2 (71.6, 5.8) -> (75.9, 5.8)
  arc A2 (78.3, 3.4) -> (75.9, 5.8) centre (75.9, 3.4) ccw
  line L3 (78.3, 3.4) -> (78.3, 9)
  arc A3 (78.3, 9) -> (74, 13.3) centre (74, 9) ccw
  circle A4 centre (74, 9) radius 1.7
  line L4 (75.9, 5.8) -> (78.3, 5.8)
extrude "Extrude11" cut sketch "Sketch8" against normal blind 4.2 contours A2 L3 L4 in component "Base"
mirror "Mirror1" about plane through (0, 0, 0) normal (0, 1, 0) of "Extrude11" in component "Base"
sketch "Sketch4 (2)" plane through (-78.3, 0, 0) normal (1, 0, 0) x (0, 1, 0)
  line L0 (5.8, 0) -> (9, 0)
  line L1 (9, 0) -> (9, 1.6)
  line L2 (9, 1.6) -> (-9, 1.6)
  line L3 (-9, 1.6) -> (-9, 0)
  line L4 (-9, 0) -> (-5.8, 0)
  line L5 (-5.8, 0) -> (-5.8, -4.2)
  line L6 (-5.8, -4.2) -> (-3.4, -4.2)
  line L7 (-3.4, -4.2) -> (-3.4, -6)
  line L8 (-3.4, -6) -> (3.4, -6)
  line L9 (3.4, -6) -> (3.4, -4.2)
  line L10 (3.4, -4.2) -> (5.8, -4.2)
  line L11 (5.8, -4.2) -> (5.8, 0)
  arc A0 (2.775, -3.35) -> (2.775, -0.25) centre (2.775, -1.8) ccw construction
  line L12 (2.775, -3.35) -> (-2.775, -3.35)
  arc A1 (-2.775, -0.25) -> (-2.775, -3.35) centre (-2.775, -1.8) ccw construction
  line L13 (-2.775, -0.25) -> (2.775, -0.25)
  line L14 (-5.8, -4.2) -> (5.8, -4.2)
  line L15 (5.8, -4.2) -> (5.8, 0.6)
  line L16 (5.8, 0.6) -> (-5.8, 0.6)
  line L17 (-5.8, 0.6) -> (-5.8, -4.2)
  arc A2 (-2.775, -0.25) -> (-2.775, -3.35) centre (-2.775, -1.8) ccw
  arc A3 (2.775, -3.35) -> (2.775, -0.25) centre (2.775, -1.8) ccw
  line L18 (-2.775, -1.8) -> (2.775, -1.8) construction
extrude "Extrude12" cut sketch "Sketch4 (2)" against normal up to surface (0.7 mm away) contours L5 L6 L10 L11 L14 L15 L16 L17 in component "Base"
component "Base" placed x (1, 0, 0) y (0, 1, 0) z (0, 0, 1) at (0, 0, 0)
